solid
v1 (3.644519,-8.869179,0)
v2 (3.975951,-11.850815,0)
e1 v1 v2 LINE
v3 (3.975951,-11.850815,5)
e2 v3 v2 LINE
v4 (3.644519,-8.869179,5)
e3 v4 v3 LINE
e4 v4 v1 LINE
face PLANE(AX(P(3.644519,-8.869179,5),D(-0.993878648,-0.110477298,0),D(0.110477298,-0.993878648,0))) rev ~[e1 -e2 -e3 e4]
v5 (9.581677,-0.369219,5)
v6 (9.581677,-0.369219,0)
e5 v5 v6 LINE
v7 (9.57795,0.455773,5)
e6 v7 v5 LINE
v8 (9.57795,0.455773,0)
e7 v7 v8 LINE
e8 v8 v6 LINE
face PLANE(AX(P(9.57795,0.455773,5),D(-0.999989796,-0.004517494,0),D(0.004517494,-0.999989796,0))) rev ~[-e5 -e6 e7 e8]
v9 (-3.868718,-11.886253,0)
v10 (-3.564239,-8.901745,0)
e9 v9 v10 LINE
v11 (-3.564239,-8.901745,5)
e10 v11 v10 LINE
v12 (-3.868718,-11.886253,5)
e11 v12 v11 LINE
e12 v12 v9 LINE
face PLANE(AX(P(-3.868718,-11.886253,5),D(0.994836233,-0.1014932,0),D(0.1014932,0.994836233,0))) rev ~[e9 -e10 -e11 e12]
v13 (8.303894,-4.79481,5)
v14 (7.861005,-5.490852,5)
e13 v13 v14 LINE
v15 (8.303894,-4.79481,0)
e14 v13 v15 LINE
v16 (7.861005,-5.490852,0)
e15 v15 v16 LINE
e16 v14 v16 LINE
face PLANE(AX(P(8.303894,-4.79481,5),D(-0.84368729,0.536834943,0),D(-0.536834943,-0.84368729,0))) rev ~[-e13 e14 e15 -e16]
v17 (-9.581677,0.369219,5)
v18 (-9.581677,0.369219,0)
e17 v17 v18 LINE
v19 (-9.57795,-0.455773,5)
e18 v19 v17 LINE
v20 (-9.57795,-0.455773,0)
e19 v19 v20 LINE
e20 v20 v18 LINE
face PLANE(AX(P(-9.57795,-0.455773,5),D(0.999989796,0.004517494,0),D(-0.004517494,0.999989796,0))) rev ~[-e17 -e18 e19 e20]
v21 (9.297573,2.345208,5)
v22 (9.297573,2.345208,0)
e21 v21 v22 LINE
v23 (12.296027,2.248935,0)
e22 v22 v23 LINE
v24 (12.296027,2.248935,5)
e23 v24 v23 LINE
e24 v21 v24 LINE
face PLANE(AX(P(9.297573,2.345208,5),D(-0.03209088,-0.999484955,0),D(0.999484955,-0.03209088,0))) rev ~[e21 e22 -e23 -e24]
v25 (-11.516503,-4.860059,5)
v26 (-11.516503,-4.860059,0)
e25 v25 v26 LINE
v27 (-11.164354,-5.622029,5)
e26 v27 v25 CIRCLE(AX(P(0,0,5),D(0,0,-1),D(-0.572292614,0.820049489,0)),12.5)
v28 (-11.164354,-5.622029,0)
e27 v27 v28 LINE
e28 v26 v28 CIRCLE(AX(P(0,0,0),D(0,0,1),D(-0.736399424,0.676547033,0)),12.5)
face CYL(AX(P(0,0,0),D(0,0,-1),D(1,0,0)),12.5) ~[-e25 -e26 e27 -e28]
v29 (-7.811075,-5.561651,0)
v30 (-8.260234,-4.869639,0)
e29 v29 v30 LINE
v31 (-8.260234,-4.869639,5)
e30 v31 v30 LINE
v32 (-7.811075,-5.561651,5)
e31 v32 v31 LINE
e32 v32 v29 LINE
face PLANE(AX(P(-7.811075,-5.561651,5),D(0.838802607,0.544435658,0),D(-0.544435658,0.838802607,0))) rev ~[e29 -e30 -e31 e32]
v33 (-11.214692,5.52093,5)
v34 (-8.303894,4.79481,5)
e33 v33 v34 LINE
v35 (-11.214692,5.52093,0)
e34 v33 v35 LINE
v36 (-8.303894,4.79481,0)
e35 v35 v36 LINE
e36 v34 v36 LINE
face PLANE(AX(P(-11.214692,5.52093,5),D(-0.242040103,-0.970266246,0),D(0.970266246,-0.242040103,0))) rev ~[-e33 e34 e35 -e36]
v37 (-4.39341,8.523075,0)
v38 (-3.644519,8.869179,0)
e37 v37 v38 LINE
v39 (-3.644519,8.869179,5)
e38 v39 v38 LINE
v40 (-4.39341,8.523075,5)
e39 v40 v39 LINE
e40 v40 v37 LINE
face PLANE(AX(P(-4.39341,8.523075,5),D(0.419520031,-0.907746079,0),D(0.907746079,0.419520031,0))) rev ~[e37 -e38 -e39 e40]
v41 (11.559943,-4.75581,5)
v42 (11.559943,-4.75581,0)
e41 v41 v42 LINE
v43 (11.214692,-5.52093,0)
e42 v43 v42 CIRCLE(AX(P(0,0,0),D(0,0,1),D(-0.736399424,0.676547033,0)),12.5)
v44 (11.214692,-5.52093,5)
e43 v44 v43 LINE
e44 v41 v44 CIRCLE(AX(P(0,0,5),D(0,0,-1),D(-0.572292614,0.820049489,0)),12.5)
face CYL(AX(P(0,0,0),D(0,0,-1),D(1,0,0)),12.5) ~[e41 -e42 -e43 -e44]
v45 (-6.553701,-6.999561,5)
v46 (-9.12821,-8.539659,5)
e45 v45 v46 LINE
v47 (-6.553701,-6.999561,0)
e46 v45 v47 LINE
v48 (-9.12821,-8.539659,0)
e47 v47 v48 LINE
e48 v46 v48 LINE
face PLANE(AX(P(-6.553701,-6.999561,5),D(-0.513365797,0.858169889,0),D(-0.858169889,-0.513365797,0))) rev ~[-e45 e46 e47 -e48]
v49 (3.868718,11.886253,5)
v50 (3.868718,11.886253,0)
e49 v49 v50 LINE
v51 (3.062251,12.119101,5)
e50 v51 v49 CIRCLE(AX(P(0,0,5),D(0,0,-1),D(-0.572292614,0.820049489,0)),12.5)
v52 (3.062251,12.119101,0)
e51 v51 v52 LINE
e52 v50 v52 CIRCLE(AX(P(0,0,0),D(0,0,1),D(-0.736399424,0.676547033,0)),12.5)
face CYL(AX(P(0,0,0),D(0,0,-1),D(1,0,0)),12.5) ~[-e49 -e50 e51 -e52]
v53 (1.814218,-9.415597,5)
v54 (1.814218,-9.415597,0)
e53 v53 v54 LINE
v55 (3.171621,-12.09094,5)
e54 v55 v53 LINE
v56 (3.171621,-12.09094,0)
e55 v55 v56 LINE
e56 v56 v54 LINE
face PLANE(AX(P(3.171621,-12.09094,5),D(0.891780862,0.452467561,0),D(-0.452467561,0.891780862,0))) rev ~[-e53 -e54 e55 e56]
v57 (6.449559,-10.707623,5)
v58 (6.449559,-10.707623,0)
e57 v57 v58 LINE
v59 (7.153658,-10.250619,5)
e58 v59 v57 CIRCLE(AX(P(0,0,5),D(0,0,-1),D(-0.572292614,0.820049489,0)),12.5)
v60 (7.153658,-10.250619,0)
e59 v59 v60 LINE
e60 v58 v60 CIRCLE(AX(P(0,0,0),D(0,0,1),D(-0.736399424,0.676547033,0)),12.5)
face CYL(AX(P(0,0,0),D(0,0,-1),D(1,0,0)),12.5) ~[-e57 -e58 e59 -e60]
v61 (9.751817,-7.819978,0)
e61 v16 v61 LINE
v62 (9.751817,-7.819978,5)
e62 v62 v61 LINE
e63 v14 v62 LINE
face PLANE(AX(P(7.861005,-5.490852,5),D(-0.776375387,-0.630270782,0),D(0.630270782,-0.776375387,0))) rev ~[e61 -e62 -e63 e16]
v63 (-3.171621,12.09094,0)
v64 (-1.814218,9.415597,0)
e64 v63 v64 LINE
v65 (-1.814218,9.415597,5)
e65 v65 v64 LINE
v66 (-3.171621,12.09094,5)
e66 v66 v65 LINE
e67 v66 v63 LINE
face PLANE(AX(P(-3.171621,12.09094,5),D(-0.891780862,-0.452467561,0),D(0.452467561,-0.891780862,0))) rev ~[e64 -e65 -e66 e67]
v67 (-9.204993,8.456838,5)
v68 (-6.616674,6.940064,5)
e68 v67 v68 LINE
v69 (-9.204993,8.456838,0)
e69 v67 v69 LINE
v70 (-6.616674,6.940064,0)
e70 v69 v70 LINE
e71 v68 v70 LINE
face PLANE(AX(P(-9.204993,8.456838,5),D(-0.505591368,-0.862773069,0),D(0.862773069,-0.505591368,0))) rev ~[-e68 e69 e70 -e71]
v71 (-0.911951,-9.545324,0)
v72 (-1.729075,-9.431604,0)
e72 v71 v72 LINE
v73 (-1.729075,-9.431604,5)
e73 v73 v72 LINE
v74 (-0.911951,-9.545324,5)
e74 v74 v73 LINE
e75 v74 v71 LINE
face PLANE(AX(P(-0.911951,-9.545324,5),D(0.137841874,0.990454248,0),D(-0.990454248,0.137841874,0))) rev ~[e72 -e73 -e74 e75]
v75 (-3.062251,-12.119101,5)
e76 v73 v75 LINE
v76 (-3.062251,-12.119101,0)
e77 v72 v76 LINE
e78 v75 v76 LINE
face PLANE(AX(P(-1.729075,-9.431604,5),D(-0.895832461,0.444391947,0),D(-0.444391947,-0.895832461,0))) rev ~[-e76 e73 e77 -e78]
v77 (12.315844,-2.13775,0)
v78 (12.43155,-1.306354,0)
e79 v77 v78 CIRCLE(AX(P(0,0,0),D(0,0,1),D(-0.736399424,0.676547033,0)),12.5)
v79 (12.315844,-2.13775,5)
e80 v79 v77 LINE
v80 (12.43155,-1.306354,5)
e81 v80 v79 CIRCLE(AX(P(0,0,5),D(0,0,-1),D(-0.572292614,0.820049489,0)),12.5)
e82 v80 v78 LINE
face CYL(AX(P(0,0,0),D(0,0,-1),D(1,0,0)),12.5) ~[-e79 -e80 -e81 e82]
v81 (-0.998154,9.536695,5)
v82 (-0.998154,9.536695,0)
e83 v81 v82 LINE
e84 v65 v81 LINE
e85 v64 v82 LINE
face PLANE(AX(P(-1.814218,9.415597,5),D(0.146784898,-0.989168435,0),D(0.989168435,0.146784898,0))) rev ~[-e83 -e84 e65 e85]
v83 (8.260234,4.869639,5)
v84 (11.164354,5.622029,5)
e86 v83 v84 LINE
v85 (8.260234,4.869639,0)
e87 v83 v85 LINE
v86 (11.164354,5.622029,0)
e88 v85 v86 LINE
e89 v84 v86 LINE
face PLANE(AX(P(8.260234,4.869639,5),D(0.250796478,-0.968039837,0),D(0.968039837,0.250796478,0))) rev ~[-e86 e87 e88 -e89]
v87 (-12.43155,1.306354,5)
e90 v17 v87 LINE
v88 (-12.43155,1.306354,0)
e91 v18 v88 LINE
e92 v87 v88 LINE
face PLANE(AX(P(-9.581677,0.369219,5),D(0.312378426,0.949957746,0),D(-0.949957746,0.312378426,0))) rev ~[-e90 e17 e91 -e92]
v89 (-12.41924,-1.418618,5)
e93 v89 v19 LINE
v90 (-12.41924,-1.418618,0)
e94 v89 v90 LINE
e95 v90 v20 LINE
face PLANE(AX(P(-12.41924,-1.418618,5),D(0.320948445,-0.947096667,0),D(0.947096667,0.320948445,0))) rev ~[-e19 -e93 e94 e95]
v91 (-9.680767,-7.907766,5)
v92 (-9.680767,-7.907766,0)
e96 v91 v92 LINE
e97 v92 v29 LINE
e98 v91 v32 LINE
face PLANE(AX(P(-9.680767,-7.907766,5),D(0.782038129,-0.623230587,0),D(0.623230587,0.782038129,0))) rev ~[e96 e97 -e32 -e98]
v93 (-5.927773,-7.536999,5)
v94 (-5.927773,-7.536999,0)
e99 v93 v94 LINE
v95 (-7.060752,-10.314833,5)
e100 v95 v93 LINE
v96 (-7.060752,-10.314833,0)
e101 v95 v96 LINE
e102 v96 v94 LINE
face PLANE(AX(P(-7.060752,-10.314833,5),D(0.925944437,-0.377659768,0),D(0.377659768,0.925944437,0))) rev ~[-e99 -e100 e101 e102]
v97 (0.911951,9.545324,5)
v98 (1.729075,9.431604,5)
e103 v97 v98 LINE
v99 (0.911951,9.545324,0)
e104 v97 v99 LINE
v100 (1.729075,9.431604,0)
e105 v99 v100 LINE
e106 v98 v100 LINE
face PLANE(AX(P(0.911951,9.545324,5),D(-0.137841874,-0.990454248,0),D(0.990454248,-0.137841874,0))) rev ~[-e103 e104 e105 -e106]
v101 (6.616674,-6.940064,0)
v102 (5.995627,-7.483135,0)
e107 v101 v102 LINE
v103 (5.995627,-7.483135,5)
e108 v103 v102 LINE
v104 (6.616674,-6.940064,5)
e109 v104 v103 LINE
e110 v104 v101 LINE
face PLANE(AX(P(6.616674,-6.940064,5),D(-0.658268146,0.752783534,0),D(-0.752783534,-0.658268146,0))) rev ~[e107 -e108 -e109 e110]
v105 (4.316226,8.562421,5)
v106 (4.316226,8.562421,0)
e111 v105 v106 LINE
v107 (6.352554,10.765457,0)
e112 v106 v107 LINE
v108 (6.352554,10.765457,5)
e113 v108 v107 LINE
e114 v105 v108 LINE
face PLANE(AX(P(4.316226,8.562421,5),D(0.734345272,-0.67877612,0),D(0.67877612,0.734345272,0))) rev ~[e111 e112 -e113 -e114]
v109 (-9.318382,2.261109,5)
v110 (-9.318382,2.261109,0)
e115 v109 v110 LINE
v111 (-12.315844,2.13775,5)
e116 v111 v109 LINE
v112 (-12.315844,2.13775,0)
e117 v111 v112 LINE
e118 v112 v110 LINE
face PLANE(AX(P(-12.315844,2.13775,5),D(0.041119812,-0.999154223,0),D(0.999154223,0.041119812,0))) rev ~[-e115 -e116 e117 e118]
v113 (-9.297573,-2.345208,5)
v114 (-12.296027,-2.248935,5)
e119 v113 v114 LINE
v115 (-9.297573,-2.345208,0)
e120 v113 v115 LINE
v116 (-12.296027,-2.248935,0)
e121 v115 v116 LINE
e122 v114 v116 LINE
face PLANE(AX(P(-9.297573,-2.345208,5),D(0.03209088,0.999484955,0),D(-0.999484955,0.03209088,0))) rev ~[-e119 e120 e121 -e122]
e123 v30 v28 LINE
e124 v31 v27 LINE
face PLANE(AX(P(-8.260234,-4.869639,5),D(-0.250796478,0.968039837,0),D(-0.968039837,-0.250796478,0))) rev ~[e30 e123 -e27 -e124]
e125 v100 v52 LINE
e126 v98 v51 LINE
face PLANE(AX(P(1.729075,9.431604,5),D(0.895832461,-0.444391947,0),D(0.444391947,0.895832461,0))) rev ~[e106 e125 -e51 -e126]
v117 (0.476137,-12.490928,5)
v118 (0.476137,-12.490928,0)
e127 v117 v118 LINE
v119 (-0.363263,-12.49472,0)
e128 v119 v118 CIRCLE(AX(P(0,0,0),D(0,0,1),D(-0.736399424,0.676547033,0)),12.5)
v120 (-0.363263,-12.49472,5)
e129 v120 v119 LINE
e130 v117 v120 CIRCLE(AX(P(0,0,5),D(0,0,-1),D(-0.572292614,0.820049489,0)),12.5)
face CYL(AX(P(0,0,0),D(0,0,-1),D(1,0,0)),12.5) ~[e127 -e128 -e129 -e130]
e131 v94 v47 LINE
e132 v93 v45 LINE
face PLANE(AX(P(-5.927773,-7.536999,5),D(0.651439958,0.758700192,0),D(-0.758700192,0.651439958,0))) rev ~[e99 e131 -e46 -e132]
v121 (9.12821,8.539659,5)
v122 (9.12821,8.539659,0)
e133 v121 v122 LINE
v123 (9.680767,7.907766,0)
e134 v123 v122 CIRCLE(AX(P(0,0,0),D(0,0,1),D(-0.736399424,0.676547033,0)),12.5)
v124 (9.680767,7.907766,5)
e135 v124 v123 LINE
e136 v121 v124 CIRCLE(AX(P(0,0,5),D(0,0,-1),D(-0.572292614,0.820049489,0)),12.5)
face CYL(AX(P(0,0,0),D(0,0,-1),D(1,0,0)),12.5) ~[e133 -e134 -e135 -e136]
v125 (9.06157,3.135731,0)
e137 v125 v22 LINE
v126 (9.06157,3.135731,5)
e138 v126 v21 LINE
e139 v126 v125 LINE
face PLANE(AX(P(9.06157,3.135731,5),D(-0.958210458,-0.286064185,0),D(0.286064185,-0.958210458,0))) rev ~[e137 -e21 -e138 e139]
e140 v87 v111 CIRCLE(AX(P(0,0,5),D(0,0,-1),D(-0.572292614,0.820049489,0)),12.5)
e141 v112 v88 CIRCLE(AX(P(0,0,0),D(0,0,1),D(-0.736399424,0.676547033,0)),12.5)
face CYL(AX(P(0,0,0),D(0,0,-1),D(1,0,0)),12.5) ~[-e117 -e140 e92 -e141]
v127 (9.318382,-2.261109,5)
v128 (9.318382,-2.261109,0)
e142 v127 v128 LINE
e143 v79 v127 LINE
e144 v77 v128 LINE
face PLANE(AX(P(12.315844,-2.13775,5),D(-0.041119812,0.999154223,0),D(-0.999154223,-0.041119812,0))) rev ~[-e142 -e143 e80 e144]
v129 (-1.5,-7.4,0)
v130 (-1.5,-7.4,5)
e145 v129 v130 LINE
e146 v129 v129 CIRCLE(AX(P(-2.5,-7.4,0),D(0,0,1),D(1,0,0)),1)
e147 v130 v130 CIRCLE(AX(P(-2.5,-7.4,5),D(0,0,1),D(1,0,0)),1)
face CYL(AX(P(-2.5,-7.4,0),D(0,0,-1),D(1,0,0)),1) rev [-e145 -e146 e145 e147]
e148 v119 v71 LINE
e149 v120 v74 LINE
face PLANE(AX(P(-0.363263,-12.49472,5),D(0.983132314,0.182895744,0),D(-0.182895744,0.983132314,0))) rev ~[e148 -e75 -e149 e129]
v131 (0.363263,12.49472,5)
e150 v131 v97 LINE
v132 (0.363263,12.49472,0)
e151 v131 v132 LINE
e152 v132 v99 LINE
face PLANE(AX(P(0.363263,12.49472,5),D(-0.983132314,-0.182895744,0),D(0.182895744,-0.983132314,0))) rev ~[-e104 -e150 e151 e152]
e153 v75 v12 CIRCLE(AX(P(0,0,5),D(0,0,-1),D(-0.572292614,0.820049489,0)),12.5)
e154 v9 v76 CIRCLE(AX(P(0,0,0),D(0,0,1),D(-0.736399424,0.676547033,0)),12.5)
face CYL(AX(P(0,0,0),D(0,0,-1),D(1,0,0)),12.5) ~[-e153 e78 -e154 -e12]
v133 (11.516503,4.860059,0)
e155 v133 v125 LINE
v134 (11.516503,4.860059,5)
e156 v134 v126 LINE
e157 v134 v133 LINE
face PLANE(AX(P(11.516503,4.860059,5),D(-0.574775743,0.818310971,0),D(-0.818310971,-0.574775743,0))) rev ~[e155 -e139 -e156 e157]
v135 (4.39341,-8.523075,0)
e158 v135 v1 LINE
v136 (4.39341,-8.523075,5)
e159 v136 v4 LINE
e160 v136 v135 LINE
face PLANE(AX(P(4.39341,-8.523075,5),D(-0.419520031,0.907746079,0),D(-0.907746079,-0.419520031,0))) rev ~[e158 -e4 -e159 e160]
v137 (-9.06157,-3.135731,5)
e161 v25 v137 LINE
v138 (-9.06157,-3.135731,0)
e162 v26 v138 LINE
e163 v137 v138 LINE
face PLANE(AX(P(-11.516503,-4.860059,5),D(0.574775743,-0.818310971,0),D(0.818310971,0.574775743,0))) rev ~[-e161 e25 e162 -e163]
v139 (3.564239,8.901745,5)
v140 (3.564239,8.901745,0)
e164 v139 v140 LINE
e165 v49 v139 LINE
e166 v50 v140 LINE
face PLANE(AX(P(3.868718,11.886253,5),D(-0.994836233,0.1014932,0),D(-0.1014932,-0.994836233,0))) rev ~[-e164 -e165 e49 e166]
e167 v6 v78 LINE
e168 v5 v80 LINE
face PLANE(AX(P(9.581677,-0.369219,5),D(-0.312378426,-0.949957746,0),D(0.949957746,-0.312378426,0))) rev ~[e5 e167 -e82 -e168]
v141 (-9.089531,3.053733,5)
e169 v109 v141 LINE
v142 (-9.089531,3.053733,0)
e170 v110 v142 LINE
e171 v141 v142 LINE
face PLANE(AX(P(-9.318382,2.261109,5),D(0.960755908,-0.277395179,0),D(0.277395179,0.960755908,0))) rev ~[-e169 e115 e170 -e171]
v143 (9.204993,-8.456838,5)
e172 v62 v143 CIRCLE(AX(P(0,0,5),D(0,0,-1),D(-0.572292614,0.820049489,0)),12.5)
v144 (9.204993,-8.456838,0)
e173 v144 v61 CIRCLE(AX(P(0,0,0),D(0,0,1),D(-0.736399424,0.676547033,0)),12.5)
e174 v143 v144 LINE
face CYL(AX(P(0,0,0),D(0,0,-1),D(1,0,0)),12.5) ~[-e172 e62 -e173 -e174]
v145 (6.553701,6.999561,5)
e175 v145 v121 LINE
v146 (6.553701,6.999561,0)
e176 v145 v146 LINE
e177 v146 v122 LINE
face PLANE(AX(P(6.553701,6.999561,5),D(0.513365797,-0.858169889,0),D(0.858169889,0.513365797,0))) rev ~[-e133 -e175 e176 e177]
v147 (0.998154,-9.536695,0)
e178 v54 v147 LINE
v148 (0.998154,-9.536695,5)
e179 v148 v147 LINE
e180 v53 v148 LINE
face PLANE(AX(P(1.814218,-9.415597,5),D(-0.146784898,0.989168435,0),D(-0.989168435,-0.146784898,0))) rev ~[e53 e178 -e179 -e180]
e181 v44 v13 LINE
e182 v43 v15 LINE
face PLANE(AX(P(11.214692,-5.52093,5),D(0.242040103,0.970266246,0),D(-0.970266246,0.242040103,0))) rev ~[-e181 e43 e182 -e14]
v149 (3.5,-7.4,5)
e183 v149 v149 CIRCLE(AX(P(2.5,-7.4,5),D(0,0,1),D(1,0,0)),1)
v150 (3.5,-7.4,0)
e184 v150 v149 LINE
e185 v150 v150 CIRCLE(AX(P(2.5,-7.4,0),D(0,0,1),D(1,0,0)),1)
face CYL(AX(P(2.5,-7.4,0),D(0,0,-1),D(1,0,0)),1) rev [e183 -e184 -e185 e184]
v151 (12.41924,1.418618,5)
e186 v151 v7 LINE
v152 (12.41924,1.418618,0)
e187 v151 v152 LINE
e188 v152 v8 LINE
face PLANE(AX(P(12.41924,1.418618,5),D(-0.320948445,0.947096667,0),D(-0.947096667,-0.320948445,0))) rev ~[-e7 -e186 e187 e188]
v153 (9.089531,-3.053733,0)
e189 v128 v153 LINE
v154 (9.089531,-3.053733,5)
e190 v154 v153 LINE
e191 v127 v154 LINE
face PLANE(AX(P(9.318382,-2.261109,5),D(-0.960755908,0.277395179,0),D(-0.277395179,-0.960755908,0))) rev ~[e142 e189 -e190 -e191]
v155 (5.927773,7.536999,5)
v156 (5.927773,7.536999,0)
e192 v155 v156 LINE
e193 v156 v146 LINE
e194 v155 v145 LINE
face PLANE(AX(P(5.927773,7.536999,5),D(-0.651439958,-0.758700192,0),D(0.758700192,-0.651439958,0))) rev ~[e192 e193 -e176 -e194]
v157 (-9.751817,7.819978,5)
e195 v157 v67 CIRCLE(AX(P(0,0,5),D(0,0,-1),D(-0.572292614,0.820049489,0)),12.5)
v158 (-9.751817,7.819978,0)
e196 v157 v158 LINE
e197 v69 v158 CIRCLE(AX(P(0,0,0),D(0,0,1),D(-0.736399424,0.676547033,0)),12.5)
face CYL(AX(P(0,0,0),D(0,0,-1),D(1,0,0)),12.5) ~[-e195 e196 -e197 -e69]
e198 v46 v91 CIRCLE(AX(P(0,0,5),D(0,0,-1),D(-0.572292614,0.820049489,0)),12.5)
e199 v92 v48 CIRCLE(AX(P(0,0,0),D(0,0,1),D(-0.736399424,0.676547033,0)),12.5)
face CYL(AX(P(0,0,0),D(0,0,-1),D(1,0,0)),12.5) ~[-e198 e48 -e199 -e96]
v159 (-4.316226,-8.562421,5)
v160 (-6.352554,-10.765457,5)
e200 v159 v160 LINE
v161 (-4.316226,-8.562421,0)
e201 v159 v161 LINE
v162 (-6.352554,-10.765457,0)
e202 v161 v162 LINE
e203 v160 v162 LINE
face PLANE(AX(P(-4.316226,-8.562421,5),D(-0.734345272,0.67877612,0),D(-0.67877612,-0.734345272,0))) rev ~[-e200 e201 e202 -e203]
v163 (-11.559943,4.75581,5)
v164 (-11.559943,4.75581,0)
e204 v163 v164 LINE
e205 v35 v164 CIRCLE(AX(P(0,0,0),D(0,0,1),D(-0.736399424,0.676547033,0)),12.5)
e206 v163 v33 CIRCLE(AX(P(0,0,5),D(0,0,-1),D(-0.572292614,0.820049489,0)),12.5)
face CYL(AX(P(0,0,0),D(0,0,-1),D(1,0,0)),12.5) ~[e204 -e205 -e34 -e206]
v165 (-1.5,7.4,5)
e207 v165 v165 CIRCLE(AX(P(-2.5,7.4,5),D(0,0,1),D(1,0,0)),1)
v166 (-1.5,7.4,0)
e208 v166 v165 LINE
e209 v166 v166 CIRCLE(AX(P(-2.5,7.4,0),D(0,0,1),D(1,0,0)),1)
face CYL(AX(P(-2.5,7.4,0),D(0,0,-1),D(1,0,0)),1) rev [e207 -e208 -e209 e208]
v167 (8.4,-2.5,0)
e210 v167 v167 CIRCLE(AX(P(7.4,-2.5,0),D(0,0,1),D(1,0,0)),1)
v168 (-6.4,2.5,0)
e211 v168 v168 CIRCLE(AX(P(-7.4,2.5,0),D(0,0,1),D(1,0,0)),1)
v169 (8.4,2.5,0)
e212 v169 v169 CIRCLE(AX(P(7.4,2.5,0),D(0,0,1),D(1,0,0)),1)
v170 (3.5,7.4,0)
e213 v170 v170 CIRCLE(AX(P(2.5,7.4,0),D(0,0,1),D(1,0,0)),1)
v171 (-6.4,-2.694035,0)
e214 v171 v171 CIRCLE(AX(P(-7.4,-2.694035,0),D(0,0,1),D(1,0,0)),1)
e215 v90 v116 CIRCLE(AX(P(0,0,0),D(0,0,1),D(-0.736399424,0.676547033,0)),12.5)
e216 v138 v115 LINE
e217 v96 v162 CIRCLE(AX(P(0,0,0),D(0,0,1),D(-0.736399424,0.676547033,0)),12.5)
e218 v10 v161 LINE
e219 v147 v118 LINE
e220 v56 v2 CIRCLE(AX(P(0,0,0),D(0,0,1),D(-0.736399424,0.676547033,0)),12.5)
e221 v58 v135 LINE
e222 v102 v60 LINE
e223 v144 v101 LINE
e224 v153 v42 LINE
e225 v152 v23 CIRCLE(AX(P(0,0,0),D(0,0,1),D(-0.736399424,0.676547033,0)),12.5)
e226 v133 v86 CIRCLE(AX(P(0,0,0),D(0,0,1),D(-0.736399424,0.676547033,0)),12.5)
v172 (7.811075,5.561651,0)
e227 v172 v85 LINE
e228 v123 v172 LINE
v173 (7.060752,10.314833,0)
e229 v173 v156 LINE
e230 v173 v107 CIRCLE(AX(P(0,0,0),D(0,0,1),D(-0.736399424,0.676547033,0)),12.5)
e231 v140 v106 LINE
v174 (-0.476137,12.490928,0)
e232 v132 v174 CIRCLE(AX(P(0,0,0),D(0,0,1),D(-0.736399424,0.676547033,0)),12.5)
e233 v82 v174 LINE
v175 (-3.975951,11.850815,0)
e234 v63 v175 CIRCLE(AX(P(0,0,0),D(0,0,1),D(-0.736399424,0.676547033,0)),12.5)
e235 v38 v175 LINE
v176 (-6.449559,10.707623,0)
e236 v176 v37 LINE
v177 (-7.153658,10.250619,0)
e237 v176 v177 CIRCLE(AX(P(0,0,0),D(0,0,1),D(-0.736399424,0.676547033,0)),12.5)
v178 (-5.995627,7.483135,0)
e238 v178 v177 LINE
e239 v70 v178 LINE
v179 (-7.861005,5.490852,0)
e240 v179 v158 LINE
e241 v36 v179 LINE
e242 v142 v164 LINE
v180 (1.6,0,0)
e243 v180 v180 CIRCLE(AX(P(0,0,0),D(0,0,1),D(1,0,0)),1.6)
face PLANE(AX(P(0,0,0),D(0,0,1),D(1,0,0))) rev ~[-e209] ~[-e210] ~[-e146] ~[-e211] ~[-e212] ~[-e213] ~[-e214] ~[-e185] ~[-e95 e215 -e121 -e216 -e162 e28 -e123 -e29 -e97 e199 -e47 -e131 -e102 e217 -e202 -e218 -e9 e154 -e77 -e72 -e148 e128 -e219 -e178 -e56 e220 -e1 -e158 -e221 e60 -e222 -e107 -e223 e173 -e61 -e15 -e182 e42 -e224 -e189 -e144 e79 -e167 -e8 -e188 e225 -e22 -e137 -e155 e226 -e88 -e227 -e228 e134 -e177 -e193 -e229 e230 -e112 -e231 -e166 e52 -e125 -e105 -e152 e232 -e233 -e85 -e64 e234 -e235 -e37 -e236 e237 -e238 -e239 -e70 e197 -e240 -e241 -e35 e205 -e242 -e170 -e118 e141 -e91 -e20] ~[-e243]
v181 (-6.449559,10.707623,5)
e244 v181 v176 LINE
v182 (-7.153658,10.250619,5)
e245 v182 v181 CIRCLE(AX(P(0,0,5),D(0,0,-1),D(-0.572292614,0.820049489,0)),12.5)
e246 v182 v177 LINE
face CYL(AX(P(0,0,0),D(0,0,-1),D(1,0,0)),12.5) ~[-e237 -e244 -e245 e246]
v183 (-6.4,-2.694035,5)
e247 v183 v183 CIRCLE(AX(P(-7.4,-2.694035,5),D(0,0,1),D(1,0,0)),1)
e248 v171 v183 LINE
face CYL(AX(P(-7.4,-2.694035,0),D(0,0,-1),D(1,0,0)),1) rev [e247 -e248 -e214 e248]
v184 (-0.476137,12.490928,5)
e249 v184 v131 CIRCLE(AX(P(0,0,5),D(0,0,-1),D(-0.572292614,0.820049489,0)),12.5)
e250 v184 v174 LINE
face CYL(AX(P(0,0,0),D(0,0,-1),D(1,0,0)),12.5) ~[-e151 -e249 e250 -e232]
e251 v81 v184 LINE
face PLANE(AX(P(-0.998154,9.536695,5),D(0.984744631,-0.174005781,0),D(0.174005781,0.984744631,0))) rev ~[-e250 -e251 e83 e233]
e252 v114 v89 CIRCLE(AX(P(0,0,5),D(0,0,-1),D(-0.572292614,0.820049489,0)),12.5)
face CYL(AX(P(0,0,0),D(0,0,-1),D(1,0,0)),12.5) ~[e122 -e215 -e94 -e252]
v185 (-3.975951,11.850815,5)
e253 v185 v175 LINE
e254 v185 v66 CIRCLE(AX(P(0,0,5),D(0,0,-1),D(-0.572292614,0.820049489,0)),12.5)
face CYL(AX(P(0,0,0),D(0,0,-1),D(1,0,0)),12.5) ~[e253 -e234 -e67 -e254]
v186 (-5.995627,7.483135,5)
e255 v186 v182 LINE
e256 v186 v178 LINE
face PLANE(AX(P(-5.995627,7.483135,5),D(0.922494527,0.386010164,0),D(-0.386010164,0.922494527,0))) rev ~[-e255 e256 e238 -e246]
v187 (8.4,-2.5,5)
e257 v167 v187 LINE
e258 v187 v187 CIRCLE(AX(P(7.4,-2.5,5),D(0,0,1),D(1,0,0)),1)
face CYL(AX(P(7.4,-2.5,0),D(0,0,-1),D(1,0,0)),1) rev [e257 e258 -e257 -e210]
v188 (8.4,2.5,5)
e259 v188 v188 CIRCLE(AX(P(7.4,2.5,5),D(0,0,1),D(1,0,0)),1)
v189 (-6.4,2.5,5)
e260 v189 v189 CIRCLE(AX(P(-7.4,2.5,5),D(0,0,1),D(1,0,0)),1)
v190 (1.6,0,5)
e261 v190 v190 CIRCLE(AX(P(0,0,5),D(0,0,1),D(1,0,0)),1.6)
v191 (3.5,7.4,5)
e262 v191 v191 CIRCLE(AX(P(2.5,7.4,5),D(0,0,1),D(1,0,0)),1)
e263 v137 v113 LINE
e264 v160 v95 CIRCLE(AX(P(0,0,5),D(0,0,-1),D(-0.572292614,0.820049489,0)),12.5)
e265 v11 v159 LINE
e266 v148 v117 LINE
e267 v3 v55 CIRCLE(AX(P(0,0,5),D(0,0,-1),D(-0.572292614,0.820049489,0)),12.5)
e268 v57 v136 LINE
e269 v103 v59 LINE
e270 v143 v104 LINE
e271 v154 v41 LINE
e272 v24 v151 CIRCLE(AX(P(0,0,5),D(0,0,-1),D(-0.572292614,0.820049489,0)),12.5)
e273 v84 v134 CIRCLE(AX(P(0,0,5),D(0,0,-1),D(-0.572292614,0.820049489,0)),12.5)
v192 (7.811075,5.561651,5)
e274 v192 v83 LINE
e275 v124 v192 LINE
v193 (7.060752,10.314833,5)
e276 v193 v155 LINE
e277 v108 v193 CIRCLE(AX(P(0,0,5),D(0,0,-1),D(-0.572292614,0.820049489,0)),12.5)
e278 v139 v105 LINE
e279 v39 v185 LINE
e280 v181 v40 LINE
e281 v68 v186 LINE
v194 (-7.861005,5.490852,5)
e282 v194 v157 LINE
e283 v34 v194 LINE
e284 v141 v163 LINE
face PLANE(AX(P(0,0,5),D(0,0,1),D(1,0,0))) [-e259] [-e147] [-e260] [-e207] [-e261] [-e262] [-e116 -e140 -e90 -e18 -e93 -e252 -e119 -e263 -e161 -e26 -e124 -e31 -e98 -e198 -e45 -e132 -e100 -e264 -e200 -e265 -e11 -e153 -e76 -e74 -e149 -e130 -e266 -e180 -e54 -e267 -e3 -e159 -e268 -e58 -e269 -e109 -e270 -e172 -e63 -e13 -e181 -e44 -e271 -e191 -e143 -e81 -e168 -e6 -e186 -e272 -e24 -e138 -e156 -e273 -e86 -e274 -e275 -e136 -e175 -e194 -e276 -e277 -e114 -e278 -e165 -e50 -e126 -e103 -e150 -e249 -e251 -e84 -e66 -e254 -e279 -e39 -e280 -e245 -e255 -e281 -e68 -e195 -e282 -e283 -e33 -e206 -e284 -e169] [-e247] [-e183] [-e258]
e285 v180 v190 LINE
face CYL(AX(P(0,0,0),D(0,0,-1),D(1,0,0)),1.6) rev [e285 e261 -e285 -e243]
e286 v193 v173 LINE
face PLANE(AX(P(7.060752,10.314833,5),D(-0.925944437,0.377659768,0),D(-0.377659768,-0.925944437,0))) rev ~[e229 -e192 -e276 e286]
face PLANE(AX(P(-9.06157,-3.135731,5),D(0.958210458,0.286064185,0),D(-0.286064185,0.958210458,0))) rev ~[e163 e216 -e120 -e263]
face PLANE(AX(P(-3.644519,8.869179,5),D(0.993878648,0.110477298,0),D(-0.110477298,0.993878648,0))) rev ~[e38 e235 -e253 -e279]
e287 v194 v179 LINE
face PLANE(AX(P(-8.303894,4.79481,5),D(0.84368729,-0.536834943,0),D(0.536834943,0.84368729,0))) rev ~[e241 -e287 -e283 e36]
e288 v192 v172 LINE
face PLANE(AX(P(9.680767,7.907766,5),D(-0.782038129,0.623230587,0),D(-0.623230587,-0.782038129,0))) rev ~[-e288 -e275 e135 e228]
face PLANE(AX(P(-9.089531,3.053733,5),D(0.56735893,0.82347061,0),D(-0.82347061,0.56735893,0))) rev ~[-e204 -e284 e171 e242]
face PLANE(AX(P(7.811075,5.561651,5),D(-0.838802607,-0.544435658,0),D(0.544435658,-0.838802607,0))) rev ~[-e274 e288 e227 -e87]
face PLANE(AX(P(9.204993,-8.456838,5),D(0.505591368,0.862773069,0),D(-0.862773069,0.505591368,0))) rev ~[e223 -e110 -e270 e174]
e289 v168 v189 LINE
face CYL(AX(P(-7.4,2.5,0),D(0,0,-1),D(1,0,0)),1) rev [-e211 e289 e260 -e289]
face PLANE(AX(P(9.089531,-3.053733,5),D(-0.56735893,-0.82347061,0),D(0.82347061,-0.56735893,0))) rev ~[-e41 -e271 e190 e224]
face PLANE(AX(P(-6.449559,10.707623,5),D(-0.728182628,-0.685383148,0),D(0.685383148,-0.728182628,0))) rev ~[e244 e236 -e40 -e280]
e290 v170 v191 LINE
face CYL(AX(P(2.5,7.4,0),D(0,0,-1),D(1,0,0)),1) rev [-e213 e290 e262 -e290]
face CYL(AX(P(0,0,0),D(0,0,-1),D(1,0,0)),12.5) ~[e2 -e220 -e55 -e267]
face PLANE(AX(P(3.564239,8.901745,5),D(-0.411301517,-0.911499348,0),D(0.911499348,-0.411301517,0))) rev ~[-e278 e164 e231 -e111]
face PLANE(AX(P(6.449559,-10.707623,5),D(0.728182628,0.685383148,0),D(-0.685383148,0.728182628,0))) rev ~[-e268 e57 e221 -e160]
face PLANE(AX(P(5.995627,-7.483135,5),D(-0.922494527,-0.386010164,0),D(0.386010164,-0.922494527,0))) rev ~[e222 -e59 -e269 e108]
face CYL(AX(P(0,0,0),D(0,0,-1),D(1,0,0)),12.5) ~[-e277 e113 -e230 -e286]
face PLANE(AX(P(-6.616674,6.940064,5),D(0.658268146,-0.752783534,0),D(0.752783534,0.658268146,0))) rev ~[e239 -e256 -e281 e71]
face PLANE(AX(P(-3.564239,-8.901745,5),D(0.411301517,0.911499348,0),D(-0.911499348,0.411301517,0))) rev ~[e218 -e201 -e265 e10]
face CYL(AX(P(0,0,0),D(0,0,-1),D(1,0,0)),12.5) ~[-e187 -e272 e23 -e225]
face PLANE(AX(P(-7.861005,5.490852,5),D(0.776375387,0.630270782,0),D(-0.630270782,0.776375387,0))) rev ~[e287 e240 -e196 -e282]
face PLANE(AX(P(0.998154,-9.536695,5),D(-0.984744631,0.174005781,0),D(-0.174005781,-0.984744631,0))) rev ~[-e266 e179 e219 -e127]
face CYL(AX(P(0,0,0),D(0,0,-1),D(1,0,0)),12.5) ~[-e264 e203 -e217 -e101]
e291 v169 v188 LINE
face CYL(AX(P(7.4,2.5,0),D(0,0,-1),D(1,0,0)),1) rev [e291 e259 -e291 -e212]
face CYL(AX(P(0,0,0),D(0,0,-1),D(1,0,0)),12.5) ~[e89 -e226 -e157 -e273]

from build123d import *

# Parameters (mm, degrees)
SKETCH1_R           = 12.5
SKETCH1_R_2         = 1.6
SKETCH1_R_3         = 1
BOSS_EXTRUDE1_DEPTH = 5
CUT_EXTRUDE1_DEPTH  = 6
CIRPATTERN1_COUNT   = 22


with BuildPart() as part:
    # Sketch1 → Boss-Extrude1 (new body)
    with BuildSketch(Plane.XY):
        Circle(SKETCH1_R)
        Circle(SKETCH1_R_2, mode=Mode.SUBTRACT)
        with Locations((2.5, -7.4)):
            Circle(SKETCH1_R_3, mode=Mode.SUBTRACT)
        with Locations((-2.5, -7.4)):
            Circle(SKETCH1_R_3, mode=Mode.SUBTRACT)
        with Locations((7.4, -2.5)):
            Circle(SKETCH1_R_3, mode=Mode.SUBTRACT)
        with Locations((-7.4, -2.694035424)):
            Circle(SKETCH1_R_3, mode=Mode.SUBTRACT)
        with Locations((-7.4, 2.5)):
            Circle(SKETCH1_R_3, mode=Mode.SUBTRACT)
        with Locations((-2.5, 7.4)):
            Circle(SKETCH1_R_3, mode=Mode.SUBTRACT)
        with Locations((2.5, 7.4)):
            Circle(SKETCH1_R_3, mode=Mode.SUBTRACT)
        with Locations((7.4, 2.5)):
            Circle(SKETCH1_R_3, mode=Mode.SUBTRACT)
    extrude(amount=BOSS_EXTRUDE1_DEPTH)

    # Sketch2 → Cut-Extrude1 (cut, through all)
    with BuildSketch(Plane.XY.offset(5)):
        Polygon((-9.204992805, 8.456837911), (-6.616673599, 6.940063806), (-5.995627184, 7.483135026), (-7.153657676, 10.250618608), (-7.456074993, 10.596457577), (-9.507410122, 8.80267688), align=None)
    cut_extrude1 = extrude(amount=-CUT_EXTRUDE1_DEPTH, mode=Mode.SUBTRACT)

    # CirPattern1: Cut-Extrude1 ×22 about axis
    cirpattern1_axis = Axis((0, 0, 0), (0, 0, 1))
    for i in range(1, CIRPATTERN1_COUNT):
        add(cut_extrude1.rotate(cirpattern1_axis, i * 360 / CIRPATTERN1_COUNT), mode=Mode.SUBTRACT)


solid = part.part
